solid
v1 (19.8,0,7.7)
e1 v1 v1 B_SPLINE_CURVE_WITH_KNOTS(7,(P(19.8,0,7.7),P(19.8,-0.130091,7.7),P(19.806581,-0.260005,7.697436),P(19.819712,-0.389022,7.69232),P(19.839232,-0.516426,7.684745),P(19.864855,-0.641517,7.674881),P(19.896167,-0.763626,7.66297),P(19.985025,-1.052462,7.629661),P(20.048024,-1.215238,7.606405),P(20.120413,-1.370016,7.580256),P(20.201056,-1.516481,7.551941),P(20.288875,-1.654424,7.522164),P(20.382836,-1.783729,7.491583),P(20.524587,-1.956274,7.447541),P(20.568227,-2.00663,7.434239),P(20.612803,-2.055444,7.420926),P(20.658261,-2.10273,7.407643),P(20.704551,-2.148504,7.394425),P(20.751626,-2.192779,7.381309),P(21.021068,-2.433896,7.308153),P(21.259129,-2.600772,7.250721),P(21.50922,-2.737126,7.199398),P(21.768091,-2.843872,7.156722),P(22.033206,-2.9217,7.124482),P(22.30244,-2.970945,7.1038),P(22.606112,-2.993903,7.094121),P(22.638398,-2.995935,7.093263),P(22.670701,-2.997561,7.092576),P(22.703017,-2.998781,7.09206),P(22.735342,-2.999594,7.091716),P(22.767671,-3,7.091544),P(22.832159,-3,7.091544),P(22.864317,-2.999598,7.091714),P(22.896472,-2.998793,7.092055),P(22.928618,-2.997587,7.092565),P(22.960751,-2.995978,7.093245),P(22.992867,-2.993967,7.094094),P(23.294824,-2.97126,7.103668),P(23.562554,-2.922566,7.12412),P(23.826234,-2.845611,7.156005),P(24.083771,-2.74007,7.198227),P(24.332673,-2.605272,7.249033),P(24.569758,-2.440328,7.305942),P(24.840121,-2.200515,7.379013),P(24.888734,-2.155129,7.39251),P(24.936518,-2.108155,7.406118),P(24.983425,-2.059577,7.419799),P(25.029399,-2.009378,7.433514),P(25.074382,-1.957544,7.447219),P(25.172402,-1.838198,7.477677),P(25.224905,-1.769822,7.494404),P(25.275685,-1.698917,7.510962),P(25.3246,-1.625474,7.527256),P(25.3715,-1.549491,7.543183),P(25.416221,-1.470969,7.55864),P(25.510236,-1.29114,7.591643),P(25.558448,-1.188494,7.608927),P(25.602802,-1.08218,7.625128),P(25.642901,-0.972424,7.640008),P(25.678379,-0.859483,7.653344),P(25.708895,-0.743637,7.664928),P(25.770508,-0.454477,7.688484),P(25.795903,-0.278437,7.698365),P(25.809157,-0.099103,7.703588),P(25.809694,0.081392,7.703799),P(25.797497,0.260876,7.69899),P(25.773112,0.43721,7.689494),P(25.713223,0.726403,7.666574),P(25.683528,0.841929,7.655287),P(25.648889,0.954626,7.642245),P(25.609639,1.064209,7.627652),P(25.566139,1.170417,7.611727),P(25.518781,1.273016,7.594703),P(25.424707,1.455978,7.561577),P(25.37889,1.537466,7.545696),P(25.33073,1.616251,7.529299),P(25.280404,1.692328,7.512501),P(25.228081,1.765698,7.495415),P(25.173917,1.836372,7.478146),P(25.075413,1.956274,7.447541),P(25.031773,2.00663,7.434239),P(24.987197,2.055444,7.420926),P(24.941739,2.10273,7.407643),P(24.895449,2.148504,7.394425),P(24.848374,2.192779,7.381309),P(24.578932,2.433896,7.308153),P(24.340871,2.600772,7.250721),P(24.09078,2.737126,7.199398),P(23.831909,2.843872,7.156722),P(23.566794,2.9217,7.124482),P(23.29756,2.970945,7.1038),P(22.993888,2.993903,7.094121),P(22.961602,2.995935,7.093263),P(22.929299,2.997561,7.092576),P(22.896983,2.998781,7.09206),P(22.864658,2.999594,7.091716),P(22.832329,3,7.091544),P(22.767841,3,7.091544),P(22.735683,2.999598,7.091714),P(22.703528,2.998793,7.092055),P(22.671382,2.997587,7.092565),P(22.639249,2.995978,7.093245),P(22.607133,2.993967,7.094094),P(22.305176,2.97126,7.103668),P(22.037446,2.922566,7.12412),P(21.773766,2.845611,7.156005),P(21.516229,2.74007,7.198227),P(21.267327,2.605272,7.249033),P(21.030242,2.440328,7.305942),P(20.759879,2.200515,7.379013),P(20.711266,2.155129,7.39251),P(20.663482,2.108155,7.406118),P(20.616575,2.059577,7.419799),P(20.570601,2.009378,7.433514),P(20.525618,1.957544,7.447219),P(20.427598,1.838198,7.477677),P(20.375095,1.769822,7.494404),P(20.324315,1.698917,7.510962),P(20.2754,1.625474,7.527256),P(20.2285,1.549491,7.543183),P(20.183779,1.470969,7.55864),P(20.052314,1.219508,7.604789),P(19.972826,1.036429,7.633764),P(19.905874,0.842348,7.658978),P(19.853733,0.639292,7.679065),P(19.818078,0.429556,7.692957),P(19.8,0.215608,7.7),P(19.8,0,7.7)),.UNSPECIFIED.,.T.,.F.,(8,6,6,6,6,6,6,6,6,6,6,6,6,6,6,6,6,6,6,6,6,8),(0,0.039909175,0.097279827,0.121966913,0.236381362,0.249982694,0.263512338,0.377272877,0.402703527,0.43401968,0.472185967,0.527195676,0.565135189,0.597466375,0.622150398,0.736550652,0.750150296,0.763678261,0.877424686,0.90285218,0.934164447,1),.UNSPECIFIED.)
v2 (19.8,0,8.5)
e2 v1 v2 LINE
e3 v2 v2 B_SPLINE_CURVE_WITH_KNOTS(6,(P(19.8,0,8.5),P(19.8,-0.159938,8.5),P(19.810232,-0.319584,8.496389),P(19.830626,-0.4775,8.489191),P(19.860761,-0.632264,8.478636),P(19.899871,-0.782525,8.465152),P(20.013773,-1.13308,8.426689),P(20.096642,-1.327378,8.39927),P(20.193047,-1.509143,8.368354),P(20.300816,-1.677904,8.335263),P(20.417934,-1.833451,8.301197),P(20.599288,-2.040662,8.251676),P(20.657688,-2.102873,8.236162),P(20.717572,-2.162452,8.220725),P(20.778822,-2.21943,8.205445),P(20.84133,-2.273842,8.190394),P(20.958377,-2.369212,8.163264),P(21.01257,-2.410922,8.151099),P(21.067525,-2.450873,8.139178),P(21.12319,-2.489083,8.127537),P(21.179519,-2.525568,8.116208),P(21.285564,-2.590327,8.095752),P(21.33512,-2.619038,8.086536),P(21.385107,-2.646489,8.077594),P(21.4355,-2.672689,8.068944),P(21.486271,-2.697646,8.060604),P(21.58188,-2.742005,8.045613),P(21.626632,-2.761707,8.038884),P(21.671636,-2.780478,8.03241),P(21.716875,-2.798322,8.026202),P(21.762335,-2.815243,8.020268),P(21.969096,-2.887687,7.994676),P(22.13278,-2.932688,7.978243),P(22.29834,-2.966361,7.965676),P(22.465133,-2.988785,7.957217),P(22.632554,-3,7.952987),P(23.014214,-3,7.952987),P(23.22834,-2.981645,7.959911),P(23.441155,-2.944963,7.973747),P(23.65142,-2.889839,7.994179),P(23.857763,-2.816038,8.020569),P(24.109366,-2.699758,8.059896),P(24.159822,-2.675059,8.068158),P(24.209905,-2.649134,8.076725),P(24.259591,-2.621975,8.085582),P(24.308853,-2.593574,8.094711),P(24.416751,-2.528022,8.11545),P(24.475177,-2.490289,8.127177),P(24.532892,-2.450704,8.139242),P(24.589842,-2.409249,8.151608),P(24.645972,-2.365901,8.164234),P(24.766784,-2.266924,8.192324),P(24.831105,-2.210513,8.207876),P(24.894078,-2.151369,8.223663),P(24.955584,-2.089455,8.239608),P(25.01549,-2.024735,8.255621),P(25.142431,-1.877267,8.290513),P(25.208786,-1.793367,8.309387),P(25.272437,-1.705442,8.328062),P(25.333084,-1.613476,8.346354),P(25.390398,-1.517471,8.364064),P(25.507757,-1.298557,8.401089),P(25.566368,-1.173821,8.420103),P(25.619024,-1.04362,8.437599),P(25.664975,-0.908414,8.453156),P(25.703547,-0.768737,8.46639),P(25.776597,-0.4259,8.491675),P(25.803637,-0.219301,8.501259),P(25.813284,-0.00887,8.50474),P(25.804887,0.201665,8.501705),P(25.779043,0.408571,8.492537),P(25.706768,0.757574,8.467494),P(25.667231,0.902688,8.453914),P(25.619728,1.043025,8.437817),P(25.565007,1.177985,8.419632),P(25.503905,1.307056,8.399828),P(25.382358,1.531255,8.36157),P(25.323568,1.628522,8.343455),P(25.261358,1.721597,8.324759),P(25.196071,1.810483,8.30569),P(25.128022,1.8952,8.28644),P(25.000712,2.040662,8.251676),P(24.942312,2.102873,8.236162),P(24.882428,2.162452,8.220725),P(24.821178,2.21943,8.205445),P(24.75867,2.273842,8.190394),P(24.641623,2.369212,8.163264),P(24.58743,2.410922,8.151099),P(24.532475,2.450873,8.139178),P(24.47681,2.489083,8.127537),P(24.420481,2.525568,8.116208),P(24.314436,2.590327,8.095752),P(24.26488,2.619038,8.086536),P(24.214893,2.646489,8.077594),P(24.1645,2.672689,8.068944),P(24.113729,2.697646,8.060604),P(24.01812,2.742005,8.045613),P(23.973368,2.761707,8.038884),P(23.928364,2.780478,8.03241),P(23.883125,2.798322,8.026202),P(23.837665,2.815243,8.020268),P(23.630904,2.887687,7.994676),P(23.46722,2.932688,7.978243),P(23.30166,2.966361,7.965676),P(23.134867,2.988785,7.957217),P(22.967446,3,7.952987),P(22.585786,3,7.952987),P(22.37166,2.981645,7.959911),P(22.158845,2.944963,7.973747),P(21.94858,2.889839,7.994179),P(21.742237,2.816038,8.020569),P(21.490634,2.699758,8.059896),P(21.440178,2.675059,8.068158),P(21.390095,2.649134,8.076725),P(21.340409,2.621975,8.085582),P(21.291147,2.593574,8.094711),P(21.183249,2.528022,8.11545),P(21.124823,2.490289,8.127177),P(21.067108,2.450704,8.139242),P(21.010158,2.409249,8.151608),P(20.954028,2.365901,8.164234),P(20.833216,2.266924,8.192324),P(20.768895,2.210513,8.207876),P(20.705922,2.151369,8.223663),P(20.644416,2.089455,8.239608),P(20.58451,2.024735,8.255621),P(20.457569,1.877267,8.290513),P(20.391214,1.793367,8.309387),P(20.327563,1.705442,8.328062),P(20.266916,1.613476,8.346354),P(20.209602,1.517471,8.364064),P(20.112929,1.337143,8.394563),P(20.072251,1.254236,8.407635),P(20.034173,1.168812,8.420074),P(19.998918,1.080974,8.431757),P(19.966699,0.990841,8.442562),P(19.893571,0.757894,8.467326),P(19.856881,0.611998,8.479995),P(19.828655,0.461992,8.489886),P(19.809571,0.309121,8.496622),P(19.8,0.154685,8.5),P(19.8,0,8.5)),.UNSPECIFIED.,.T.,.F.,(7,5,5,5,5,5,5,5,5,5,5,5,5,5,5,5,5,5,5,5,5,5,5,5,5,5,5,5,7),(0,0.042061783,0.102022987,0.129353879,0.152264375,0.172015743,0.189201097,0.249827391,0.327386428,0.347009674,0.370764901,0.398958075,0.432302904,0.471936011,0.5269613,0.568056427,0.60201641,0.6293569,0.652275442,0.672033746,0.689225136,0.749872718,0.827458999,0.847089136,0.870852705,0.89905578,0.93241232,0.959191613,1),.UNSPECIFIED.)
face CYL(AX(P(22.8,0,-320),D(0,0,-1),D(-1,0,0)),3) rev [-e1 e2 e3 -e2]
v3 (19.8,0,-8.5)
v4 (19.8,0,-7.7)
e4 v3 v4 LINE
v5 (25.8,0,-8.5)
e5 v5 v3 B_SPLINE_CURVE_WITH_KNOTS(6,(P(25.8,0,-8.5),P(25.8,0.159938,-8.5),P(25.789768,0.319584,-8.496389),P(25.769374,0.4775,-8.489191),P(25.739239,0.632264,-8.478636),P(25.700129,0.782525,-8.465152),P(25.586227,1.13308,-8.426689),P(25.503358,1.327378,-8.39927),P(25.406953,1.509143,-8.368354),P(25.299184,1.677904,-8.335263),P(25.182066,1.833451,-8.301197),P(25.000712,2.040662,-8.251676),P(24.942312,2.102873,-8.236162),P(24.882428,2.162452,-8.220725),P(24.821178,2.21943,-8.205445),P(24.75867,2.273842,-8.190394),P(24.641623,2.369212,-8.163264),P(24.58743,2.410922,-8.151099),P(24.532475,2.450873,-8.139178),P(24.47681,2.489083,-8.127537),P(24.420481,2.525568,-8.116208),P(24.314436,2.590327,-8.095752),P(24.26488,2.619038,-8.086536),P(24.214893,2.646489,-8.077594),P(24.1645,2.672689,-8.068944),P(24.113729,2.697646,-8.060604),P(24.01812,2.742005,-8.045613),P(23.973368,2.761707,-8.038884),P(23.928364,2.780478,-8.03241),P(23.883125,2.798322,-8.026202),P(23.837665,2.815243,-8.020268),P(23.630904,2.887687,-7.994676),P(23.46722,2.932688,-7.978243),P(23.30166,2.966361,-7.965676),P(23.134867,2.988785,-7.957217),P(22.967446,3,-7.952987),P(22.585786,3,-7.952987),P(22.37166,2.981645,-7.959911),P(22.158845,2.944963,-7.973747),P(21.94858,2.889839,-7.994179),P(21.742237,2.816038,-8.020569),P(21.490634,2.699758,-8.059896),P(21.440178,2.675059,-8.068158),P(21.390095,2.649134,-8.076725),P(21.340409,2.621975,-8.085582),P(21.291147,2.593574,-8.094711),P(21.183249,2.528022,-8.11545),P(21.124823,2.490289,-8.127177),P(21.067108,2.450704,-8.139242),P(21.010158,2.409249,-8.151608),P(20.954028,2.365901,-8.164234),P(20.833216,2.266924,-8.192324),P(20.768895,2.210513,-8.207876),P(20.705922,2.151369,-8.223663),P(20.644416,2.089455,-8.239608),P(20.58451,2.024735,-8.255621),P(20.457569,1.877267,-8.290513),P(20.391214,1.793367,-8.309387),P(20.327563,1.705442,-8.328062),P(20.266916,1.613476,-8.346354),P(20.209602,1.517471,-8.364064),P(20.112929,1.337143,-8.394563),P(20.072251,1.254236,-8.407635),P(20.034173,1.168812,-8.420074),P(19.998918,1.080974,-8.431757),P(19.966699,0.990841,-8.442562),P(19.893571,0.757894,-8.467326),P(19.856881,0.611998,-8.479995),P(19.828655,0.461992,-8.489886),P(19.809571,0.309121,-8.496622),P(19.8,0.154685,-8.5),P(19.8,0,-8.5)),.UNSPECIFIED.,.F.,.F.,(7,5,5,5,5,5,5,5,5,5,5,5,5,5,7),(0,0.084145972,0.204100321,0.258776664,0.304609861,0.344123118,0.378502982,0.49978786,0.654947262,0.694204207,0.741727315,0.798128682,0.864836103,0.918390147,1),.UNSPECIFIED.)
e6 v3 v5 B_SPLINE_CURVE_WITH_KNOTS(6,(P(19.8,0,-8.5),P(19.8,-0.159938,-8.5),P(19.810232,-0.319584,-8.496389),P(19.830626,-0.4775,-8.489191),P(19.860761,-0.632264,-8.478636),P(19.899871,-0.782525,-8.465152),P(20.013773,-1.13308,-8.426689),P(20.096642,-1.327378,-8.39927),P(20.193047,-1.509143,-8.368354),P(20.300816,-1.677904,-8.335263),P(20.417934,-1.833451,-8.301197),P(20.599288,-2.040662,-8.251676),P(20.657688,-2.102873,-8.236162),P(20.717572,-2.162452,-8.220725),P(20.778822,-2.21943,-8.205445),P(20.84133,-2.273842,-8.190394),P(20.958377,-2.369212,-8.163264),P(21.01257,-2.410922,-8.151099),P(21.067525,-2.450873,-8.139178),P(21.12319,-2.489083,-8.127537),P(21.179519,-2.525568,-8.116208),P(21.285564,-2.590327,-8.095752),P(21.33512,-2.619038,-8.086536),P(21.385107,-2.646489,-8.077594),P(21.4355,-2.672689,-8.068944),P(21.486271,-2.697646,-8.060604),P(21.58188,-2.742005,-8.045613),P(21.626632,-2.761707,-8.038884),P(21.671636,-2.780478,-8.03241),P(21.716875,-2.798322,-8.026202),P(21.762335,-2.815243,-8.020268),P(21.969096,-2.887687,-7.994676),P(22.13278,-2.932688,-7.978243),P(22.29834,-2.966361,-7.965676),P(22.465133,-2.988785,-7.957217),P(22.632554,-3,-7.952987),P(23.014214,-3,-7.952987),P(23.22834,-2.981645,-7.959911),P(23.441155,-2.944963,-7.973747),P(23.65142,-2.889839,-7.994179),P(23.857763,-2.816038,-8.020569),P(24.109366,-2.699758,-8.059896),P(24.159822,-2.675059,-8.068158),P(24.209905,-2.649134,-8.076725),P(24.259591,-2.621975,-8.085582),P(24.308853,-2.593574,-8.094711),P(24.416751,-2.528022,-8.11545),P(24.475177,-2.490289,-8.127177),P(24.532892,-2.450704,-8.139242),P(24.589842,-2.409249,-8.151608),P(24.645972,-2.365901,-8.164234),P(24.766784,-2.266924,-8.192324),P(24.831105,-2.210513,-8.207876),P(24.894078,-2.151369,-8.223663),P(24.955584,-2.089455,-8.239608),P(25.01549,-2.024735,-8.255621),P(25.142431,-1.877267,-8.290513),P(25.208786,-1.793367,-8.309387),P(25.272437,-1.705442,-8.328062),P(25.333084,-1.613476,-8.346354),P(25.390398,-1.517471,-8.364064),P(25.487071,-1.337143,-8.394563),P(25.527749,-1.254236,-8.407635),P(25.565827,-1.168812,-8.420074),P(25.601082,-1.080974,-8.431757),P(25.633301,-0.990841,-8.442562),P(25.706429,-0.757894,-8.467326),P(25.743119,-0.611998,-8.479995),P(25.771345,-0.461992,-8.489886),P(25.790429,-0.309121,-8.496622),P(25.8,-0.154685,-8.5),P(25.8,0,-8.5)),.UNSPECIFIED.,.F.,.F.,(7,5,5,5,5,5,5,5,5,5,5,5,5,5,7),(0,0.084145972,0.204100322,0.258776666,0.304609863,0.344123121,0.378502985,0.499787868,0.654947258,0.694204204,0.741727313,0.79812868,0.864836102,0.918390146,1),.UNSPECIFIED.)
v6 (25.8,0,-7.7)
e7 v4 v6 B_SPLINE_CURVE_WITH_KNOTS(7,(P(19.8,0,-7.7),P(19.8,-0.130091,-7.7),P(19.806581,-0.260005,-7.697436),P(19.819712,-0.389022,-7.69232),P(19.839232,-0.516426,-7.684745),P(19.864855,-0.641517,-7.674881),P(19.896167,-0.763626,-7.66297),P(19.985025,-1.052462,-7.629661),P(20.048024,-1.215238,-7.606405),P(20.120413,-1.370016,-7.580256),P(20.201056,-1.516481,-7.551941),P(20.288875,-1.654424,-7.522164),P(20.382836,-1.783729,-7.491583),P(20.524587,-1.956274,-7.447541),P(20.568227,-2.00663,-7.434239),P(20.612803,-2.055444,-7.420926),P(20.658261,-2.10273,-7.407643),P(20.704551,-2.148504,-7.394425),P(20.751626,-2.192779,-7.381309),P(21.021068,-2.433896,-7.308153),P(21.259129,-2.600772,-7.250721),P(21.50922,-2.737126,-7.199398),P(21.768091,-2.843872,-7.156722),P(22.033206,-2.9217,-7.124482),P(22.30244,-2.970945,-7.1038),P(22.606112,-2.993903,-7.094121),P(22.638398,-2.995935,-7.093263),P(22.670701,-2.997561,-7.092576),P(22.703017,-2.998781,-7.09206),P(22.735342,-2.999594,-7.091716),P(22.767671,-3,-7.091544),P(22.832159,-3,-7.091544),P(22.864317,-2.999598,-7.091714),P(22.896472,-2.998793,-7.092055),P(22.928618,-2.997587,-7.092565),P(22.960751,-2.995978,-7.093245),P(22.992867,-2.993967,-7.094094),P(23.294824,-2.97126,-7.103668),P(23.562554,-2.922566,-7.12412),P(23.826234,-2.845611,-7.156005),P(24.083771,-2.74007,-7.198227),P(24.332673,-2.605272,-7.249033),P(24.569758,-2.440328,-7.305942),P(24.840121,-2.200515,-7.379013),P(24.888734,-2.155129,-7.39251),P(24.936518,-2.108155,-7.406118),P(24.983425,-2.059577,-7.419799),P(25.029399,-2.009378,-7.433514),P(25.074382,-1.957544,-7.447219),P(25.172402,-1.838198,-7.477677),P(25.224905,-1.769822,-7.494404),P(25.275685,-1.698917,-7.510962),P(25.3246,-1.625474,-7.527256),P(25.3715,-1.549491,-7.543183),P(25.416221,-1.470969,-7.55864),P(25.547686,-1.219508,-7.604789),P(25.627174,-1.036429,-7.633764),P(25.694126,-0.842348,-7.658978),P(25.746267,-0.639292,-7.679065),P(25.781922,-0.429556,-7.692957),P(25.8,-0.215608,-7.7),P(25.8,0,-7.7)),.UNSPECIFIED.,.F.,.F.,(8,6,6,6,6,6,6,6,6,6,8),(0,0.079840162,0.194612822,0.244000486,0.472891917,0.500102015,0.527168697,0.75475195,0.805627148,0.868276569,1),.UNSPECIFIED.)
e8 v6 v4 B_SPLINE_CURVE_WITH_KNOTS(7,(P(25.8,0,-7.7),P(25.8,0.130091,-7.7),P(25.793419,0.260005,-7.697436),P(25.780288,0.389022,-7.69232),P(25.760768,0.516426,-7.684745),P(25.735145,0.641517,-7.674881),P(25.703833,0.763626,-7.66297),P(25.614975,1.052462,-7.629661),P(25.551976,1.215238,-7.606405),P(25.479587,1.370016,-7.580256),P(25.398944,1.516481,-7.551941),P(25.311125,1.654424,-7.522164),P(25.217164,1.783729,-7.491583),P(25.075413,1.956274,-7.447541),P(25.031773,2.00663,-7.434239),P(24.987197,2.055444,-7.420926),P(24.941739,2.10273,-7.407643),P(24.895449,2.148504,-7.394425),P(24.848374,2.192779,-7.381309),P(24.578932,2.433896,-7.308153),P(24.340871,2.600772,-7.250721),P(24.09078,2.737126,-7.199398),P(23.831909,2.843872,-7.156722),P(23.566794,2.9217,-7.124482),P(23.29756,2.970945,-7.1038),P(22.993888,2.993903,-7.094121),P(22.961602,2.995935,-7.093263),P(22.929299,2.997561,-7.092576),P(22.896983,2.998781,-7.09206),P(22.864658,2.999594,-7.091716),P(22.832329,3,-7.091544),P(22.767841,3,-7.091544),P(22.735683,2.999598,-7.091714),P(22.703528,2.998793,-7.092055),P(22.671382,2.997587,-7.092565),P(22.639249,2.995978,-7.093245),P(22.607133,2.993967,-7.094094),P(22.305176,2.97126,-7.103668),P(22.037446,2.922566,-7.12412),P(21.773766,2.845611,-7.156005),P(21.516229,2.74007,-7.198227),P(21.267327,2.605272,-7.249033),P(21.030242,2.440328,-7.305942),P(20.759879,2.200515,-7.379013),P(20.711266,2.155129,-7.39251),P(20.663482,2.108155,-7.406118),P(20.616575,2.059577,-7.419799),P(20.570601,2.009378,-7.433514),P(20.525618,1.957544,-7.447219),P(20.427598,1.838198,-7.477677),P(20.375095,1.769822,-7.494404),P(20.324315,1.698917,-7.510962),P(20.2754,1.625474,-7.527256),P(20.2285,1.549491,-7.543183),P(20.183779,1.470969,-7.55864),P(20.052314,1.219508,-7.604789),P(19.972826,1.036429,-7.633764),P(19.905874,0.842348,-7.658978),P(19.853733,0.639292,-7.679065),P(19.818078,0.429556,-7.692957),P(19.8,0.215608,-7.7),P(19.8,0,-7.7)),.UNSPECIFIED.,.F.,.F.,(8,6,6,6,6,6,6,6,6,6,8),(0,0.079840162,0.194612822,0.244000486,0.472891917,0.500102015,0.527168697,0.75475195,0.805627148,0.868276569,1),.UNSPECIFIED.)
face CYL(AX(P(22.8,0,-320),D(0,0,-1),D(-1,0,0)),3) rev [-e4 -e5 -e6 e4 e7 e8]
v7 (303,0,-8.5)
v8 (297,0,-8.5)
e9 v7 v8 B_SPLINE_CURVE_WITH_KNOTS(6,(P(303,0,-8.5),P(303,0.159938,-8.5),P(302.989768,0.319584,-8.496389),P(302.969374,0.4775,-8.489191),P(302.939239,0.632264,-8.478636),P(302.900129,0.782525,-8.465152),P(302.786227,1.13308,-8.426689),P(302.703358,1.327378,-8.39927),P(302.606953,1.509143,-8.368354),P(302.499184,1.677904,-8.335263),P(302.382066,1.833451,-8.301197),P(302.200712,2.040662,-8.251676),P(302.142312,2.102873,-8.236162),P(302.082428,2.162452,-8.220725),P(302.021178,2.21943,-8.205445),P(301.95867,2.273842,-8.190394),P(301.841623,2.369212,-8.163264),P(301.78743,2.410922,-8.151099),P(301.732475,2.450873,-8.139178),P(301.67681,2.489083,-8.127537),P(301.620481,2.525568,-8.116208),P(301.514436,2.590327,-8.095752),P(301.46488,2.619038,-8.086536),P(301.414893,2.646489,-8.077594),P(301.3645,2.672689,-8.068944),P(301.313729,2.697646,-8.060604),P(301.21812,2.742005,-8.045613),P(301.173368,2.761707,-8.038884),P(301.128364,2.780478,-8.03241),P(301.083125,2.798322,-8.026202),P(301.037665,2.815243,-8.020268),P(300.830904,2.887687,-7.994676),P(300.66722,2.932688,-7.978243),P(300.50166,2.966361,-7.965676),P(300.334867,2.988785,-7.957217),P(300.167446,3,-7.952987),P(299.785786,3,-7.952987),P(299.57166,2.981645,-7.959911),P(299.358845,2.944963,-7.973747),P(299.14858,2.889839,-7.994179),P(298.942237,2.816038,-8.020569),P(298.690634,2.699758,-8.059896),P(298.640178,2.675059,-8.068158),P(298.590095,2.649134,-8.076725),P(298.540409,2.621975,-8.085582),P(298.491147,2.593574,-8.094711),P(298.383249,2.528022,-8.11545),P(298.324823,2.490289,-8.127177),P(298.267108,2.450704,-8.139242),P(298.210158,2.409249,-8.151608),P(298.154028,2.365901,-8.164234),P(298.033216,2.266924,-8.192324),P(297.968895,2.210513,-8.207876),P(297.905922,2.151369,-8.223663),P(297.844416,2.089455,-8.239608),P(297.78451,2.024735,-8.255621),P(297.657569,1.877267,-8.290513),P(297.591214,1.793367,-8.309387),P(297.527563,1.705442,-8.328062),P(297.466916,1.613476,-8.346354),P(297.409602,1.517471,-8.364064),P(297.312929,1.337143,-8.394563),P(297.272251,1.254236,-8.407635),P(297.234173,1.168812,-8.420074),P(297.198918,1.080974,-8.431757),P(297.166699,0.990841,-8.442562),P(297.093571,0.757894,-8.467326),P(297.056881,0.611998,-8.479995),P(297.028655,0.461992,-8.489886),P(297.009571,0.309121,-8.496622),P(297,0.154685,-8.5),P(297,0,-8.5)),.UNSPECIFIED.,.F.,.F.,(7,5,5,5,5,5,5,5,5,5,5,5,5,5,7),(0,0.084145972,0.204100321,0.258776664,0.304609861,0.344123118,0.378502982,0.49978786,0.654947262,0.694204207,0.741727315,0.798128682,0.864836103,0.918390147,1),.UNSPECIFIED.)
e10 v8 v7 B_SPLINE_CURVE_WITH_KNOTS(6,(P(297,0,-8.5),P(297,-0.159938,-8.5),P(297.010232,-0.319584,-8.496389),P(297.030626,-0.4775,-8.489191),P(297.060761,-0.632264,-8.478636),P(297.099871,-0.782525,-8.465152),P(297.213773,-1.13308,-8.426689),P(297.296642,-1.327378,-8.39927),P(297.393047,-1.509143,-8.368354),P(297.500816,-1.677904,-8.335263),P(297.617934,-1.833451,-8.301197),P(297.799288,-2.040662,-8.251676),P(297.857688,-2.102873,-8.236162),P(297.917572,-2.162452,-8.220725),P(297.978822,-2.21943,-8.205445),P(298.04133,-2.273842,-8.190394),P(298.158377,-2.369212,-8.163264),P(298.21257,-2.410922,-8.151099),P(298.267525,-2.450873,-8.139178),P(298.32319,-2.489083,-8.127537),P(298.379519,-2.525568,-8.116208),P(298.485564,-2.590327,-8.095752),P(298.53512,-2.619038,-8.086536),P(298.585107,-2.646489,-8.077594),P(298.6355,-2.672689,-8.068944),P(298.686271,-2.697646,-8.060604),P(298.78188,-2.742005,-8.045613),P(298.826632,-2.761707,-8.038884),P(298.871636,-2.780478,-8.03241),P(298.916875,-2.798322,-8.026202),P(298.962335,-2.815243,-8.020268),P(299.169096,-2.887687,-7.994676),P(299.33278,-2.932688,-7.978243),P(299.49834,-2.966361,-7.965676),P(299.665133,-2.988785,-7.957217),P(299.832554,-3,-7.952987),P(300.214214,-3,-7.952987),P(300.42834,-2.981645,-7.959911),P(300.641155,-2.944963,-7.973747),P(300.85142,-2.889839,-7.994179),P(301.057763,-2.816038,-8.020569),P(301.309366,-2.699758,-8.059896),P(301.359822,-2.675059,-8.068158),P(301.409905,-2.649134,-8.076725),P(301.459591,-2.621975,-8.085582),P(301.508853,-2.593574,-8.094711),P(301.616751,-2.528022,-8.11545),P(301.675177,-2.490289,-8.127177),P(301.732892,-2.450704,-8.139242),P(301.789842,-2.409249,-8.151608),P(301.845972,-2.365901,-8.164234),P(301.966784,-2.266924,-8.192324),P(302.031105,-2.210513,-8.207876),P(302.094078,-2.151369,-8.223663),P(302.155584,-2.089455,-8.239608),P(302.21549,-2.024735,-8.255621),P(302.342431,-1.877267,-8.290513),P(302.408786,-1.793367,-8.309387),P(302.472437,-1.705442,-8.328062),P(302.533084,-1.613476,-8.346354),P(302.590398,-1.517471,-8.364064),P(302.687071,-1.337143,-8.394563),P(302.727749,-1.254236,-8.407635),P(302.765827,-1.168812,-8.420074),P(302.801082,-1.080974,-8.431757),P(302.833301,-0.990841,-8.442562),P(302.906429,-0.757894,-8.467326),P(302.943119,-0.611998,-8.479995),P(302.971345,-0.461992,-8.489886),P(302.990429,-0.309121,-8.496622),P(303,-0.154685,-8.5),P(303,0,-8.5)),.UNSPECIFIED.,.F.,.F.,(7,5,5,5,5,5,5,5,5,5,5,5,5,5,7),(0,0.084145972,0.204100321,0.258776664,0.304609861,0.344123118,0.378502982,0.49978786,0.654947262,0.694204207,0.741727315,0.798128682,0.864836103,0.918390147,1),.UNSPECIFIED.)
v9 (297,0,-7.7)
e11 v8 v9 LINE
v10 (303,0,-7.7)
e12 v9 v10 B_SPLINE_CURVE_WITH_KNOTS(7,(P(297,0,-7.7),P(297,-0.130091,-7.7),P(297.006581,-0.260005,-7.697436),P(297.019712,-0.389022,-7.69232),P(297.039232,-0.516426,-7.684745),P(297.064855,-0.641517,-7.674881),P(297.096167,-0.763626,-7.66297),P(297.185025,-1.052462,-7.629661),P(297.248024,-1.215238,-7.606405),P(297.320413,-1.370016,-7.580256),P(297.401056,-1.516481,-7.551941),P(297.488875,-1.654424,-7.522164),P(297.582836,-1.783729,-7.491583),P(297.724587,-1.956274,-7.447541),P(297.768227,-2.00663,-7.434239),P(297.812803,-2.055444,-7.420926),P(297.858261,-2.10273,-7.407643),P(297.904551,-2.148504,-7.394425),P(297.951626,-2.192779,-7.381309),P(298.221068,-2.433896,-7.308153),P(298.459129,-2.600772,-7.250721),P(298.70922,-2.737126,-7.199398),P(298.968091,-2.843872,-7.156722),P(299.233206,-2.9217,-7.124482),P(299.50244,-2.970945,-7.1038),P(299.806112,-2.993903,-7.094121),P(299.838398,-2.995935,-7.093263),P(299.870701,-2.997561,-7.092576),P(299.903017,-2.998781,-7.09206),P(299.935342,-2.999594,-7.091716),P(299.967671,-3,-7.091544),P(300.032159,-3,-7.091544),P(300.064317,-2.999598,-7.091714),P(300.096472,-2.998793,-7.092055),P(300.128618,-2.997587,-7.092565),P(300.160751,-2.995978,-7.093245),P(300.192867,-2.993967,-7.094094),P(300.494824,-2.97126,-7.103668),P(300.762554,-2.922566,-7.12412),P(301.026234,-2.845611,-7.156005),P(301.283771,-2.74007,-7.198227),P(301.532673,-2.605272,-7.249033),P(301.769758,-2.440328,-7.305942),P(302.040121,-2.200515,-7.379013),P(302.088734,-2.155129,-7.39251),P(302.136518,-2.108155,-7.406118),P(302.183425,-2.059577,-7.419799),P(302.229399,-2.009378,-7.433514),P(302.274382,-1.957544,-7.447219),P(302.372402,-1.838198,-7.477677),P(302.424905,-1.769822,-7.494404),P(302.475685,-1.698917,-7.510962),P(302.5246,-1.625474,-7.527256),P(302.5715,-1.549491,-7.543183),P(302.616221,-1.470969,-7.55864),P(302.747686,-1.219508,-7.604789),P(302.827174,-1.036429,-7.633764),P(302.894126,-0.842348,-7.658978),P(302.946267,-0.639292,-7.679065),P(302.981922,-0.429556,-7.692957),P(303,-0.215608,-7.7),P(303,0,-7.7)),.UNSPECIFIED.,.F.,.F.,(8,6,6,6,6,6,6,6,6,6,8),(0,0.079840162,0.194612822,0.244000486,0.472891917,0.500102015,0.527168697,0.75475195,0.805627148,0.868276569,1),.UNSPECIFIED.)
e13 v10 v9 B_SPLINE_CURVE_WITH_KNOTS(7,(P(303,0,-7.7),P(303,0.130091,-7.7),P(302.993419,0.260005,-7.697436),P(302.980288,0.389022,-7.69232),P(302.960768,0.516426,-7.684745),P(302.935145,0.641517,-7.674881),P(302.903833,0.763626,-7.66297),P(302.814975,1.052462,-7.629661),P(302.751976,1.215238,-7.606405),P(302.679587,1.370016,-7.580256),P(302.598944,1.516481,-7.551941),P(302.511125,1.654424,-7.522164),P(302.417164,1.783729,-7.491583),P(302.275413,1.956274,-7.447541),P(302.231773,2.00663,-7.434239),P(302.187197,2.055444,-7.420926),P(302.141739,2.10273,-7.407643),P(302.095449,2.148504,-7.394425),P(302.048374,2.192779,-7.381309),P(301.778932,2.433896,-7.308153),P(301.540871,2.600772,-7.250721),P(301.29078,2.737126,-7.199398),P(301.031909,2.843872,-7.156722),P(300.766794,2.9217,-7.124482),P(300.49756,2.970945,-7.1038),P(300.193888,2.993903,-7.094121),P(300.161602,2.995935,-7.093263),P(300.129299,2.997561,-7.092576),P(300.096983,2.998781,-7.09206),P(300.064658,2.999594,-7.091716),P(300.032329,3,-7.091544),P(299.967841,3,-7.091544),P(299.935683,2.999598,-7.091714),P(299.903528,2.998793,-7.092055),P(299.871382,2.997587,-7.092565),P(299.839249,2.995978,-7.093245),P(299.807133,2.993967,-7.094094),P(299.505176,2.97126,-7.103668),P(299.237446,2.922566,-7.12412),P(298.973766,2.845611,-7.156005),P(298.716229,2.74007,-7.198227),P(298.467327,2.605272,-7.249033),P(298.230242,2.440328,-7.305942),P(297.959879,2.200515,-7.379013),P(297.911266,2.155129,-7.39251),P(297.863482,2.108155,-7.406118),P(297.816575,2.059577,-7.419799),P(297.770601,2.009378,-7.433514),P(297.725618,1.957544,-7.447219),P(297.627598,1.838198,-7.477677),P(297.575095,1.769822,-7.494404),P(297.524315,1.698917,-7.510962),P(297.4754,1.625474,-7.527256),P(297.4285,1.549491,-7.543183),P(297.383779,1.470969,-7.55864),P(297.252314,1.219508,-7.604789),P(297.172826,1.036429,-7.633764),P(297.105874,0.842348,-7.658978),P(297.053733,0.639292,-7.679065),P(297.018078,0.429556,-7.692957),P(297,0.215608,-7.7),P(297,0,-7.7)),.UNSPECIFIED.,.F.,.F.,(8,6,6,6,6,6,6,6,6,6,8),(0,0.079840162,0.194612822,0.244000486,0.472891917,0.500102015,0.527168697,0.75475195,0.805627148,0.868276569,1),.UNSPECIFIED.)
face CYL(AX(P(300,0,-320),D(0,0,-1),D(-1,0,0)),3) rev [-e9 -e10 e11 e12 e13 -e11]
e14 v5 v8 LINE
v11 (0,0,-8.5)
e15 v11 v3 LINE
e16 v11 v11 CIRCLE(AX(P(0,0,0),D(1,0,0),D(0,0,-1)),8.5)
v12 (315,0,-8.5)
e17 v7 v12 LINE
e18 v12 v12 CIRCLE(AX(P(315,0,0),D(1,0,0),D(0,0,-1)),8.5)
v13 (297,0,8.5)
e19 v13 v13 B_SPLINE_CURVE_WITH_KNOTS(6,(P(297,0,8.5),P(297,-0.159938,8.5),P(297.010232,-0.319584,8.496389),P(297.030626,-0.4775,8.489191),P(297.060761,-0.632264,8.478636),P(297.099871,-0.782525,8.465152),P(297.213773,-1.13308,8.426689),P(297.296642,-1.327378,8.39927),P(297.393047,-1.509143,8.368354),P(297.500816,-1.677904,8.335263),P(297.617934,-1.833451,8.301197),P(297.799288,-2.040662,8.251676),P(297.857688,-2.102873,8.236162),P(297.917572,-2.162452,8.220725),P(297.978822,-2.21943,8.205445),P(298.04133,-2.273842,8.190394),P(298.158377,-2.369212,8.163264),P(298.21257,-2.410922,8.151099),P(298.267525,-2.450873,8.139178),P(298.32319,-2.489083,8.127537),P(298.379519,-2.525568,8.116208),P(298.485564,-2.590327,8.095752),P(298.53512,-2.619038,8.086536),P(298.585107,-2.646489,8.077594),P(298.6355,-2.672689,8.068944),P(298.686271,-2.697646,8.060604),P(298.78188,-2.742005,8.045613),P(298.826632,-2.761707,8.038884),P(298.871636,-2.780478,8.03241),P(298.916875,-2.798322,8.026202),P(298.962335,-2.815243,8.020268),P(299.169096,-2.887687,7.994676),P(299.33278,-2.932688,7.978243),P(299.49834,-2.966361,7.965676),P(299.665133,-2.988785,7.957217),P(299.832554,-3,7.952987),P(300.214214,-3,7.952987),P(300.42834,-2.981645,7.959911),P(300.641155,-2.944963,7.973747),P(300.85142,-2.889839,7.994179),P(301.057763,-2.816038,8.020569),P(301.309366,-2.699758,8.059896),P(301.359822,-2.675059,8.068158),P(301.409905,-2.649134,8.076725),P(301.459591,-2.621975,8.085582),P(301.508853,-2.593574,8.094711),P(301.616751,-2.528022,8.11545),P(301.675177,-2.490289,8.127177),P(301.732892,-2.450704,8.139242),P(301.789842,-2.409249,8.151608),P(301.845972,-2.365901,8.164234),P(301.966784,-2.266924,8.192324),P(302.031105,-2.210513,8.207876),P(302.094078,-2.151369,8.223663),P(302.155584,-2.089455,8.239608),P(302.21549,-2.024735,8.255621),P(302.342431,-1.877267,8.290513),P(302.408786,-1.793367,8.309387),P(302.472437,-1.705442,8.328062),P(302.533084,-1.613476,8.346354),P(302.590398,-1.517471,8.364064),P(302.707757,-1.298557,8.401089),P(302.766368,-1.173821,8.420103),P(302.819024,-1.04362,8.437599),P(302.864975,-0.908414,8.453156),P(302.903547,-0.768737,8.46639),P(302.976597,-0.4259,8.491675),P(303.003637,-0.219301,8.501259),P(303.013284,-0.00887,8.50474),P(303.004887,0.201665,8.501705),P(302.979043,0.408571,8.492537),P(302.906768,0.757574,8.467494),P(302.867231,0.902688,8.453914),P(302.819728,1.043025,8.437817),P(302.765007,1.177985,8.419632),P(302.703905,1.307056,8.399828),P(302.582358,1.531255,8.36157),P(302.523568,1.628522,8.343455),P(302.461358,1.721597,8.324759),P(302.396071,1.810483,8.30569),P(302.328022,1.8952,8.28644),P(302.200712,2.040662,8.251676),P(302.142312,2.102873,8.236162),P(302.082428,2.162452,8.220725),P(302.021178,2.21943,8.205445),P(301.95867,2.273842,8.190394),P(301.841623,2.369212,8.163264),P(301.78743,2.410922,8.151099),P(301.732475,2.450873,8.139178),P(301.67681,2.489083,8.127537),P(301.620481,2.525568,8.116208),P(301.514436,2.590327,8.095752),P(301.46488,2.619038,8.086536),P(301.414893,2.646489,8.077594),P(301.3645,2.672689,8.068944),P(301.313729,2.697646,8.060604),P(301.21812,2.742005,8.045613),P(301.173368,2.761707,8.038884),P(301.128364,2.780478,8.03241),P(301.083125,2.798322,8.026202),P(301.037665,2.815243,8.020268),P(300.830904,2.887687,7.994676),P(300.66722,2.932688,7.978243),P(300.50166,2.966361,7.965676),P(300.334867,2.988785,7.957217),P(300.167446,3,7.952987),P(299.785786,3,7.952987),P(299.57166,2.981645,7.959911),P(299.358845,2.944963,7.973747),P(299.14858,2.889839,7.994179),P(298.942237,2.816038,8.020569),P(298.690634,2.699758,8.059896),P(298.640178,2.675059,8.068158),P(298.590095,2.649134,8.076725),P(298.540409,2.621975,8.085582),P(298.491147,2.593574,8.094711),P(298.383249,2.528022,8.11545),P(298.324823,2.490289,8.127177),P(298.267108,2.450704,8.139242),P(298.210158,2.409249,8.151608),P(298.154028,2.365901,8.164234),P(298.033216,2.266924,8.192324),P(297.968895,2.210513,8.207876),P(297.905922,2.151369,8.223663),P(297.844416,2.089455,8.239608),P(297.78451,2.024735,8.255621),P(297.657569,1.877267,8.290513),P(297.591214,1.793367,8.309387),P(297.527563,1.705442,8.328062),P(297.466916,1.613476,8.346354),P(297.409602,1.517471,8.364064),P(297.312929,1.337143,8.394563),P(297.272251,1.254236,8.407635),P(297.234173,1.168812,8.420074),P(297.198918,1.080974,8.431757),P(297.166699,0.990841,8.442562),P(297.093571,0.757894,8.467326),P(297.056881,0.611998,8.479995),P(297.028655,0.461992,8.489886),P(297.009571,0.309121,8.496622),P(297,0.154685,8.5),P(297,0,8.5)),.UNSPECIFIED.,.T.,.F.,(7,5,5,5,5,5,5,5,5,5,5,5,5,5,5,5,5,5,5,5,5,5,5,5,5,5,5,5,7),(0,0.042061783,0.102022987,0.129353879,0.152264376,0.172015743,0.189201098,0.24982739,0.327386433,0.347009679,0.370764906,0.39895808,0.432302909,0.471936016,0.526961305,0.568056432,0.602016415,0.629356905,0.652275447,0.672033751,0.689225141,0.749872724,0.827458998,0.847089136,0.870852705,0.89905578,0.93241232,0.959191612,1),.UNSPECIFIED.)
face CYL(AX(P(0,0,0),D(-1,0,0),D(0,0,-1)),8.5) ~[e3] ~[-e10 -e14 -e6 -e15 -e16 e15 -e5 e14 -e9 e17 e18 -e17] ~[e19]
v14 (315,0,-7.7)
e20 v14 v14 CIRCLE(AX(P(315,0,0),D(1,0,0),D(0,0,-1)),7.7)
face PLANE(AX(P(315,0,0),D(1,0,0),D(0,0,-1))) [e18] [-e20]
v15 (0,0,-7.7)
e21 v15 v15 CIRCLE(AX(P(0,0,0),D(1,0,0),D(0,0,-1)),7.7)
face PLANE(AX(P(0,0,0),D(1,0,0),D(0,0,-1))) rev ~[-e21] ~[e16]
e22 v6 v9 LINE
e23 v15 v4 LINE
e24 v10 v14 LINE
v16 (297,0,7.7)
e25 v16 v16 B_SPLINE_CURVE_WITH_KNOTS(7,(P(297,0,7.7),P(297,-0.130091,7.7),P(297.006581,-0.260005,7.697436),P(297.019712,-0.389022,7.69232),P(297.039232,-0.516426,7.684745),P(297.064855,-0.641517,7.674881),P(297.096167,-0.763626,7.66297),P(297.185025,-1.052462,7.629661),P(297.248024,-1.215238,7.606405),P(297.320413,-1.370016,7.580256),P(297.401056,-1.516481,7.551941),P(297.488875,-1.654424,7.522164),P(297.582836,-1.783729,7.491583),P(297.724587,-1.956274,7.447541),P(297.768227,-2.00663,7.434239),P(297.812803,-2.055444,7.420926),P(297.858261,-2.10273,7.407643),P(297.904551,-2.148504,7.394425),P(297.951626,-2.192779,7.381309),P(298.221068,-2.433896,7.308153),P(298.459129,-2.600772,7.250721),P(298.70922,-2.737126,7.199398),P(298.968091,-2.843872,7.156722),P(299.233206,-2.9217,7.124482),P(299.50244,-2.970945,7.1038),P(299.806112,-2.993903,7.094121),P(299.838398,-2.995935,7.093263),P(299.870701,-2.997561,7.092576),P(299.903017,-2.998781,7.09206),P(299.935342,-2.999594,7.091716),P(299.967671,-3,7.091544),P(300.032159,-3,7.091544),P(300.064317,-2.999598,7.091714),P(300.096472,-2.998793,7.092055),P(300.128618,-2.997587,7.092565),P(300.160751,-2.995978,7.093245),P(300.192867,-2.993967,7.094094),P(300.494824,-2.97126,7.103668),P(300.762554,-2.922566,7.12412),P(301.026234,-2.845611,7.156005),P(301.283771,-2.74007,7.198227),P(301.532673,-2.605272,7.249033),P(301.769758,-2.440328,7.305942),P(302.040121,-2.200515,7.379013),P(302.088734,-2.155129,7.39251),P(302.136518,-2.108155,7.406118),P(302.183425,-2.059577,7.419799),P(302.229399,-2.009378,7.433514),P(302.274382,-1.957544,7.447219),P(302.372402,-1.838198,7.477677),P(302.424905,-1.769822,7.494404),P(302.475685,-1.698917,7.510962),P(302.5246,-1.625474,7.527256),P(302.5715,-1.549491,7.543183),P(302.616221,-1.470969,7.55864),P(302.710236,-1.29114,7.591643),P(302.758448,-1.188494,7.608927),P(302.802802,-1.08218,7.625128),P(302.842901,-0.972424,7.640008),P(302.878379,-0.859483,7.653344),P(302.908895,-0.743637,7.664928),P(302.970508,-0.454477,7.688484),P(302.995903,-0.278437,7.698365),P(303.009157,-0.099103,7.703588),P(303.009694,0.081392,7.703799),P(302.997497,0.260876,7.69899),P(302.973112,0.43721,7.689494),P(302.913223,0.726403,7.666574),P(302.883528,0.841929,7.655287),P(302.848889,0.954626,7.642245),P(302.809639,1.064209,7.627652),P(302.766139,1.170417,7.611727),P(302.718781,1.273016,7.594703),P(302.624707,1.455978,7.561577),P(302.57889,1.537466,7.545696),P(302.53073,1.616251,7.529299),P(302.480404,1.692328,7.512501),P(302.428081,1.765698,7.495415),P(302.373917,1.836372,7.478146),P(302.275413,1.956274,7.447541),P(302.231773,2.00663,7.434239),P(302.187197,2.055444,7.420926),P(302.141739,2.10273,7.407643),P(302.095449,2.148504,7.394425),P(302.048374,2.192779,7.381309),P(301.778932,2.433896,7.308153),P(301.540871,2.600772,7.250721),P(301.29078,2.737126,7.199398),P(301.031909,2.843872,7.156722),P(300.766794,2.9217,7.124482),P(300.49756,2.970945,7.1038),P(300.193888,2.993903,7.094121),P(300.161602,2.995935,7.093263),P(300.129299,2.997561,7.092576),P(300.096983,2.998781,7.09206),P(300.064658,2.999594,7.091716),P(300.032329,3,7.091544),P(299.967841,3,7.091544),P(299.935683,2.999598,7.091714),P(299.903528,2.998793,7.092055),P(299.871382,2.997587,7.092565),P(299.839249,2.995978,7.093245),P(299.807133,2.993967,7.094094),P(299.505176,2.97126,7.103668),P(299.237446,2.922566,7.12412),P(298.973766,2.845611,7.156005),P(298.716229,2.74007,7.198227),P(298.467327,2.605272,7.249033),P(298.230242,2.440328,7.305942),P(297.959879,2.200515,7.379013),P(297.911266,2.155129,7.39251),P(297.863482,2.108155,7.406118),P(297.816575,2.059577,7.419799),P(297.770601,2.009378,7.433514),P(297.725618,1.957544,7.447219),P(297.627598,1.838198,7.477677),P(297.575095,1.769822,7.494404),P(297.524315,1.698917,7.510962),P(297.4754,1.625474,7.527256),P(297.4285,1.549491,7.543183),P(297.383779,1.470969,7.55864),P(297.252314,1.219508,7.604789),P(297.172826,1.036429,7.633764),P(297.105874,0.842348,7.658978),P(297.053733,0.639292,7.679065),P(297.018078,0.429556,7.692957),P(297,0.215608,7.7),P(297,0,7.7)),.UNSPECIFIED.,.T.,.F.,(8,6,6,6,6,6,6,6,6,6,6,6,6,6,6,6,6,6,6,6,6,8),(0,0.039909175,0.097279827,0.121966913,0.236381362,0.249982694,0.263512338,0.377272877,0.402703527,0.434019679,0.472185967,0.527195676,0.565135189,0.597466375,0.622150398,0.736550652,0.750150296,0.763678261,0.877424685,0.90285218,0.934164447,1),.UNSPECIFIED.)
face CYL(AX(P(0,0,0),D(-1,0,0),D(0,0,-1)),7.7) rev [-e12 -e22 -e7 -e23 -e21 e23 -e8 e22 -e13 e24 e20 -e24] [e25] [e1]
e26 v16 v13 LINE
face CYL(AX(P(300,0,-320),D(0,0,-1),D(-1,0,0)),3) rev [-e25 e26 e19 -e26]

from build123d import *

# Parameters (mm, degrees)
SKETCH1_R               = 8.5
SKETCH1_R_2             = 7.7
BOSS_EXTRUDE1_DEPTH     = 315
CUT_EXTRUDE1_DEPTH      = 320
CUT_EXTRUDE1_DEPTH_BACK = 320
SKETCH2_R               = 3


with BuildPart() as part:
    # Sketch1 → Boss-Extrude1 (new body)
    with BuildSketch(Plane(origin=(0, 0, 0), x_dir=(0, 0, -1), z_dir=(1, 0, 0))):
        Circle(SKETCH1_R)
        Circle(SKETCH1_R_2, mode=Mode.SUBTRACT)
    extrude(amount=BOSS_EXTRUDE1_DEPTH)

    # Sketch2 → Cut-Extrude1 (cut, two sides: drawn at the far end of the back side and taken through both)
    with BuildSketch(Plane.XY.offset(-CUT_EXTRUDE1_DEPTH_BACK)):
        with Locations((22.8, 0)):
            Circle(SKETCH2_R)
        with Locations((300, 0)):
            Circle(SKETCH2_R)
    extrude(amount=CUT_EXTRUDE1_DEPTH + CUT_EXTRUDE1_DEPTH_BACK, mode=Mode.SUBTRACT)


solid = part.part
